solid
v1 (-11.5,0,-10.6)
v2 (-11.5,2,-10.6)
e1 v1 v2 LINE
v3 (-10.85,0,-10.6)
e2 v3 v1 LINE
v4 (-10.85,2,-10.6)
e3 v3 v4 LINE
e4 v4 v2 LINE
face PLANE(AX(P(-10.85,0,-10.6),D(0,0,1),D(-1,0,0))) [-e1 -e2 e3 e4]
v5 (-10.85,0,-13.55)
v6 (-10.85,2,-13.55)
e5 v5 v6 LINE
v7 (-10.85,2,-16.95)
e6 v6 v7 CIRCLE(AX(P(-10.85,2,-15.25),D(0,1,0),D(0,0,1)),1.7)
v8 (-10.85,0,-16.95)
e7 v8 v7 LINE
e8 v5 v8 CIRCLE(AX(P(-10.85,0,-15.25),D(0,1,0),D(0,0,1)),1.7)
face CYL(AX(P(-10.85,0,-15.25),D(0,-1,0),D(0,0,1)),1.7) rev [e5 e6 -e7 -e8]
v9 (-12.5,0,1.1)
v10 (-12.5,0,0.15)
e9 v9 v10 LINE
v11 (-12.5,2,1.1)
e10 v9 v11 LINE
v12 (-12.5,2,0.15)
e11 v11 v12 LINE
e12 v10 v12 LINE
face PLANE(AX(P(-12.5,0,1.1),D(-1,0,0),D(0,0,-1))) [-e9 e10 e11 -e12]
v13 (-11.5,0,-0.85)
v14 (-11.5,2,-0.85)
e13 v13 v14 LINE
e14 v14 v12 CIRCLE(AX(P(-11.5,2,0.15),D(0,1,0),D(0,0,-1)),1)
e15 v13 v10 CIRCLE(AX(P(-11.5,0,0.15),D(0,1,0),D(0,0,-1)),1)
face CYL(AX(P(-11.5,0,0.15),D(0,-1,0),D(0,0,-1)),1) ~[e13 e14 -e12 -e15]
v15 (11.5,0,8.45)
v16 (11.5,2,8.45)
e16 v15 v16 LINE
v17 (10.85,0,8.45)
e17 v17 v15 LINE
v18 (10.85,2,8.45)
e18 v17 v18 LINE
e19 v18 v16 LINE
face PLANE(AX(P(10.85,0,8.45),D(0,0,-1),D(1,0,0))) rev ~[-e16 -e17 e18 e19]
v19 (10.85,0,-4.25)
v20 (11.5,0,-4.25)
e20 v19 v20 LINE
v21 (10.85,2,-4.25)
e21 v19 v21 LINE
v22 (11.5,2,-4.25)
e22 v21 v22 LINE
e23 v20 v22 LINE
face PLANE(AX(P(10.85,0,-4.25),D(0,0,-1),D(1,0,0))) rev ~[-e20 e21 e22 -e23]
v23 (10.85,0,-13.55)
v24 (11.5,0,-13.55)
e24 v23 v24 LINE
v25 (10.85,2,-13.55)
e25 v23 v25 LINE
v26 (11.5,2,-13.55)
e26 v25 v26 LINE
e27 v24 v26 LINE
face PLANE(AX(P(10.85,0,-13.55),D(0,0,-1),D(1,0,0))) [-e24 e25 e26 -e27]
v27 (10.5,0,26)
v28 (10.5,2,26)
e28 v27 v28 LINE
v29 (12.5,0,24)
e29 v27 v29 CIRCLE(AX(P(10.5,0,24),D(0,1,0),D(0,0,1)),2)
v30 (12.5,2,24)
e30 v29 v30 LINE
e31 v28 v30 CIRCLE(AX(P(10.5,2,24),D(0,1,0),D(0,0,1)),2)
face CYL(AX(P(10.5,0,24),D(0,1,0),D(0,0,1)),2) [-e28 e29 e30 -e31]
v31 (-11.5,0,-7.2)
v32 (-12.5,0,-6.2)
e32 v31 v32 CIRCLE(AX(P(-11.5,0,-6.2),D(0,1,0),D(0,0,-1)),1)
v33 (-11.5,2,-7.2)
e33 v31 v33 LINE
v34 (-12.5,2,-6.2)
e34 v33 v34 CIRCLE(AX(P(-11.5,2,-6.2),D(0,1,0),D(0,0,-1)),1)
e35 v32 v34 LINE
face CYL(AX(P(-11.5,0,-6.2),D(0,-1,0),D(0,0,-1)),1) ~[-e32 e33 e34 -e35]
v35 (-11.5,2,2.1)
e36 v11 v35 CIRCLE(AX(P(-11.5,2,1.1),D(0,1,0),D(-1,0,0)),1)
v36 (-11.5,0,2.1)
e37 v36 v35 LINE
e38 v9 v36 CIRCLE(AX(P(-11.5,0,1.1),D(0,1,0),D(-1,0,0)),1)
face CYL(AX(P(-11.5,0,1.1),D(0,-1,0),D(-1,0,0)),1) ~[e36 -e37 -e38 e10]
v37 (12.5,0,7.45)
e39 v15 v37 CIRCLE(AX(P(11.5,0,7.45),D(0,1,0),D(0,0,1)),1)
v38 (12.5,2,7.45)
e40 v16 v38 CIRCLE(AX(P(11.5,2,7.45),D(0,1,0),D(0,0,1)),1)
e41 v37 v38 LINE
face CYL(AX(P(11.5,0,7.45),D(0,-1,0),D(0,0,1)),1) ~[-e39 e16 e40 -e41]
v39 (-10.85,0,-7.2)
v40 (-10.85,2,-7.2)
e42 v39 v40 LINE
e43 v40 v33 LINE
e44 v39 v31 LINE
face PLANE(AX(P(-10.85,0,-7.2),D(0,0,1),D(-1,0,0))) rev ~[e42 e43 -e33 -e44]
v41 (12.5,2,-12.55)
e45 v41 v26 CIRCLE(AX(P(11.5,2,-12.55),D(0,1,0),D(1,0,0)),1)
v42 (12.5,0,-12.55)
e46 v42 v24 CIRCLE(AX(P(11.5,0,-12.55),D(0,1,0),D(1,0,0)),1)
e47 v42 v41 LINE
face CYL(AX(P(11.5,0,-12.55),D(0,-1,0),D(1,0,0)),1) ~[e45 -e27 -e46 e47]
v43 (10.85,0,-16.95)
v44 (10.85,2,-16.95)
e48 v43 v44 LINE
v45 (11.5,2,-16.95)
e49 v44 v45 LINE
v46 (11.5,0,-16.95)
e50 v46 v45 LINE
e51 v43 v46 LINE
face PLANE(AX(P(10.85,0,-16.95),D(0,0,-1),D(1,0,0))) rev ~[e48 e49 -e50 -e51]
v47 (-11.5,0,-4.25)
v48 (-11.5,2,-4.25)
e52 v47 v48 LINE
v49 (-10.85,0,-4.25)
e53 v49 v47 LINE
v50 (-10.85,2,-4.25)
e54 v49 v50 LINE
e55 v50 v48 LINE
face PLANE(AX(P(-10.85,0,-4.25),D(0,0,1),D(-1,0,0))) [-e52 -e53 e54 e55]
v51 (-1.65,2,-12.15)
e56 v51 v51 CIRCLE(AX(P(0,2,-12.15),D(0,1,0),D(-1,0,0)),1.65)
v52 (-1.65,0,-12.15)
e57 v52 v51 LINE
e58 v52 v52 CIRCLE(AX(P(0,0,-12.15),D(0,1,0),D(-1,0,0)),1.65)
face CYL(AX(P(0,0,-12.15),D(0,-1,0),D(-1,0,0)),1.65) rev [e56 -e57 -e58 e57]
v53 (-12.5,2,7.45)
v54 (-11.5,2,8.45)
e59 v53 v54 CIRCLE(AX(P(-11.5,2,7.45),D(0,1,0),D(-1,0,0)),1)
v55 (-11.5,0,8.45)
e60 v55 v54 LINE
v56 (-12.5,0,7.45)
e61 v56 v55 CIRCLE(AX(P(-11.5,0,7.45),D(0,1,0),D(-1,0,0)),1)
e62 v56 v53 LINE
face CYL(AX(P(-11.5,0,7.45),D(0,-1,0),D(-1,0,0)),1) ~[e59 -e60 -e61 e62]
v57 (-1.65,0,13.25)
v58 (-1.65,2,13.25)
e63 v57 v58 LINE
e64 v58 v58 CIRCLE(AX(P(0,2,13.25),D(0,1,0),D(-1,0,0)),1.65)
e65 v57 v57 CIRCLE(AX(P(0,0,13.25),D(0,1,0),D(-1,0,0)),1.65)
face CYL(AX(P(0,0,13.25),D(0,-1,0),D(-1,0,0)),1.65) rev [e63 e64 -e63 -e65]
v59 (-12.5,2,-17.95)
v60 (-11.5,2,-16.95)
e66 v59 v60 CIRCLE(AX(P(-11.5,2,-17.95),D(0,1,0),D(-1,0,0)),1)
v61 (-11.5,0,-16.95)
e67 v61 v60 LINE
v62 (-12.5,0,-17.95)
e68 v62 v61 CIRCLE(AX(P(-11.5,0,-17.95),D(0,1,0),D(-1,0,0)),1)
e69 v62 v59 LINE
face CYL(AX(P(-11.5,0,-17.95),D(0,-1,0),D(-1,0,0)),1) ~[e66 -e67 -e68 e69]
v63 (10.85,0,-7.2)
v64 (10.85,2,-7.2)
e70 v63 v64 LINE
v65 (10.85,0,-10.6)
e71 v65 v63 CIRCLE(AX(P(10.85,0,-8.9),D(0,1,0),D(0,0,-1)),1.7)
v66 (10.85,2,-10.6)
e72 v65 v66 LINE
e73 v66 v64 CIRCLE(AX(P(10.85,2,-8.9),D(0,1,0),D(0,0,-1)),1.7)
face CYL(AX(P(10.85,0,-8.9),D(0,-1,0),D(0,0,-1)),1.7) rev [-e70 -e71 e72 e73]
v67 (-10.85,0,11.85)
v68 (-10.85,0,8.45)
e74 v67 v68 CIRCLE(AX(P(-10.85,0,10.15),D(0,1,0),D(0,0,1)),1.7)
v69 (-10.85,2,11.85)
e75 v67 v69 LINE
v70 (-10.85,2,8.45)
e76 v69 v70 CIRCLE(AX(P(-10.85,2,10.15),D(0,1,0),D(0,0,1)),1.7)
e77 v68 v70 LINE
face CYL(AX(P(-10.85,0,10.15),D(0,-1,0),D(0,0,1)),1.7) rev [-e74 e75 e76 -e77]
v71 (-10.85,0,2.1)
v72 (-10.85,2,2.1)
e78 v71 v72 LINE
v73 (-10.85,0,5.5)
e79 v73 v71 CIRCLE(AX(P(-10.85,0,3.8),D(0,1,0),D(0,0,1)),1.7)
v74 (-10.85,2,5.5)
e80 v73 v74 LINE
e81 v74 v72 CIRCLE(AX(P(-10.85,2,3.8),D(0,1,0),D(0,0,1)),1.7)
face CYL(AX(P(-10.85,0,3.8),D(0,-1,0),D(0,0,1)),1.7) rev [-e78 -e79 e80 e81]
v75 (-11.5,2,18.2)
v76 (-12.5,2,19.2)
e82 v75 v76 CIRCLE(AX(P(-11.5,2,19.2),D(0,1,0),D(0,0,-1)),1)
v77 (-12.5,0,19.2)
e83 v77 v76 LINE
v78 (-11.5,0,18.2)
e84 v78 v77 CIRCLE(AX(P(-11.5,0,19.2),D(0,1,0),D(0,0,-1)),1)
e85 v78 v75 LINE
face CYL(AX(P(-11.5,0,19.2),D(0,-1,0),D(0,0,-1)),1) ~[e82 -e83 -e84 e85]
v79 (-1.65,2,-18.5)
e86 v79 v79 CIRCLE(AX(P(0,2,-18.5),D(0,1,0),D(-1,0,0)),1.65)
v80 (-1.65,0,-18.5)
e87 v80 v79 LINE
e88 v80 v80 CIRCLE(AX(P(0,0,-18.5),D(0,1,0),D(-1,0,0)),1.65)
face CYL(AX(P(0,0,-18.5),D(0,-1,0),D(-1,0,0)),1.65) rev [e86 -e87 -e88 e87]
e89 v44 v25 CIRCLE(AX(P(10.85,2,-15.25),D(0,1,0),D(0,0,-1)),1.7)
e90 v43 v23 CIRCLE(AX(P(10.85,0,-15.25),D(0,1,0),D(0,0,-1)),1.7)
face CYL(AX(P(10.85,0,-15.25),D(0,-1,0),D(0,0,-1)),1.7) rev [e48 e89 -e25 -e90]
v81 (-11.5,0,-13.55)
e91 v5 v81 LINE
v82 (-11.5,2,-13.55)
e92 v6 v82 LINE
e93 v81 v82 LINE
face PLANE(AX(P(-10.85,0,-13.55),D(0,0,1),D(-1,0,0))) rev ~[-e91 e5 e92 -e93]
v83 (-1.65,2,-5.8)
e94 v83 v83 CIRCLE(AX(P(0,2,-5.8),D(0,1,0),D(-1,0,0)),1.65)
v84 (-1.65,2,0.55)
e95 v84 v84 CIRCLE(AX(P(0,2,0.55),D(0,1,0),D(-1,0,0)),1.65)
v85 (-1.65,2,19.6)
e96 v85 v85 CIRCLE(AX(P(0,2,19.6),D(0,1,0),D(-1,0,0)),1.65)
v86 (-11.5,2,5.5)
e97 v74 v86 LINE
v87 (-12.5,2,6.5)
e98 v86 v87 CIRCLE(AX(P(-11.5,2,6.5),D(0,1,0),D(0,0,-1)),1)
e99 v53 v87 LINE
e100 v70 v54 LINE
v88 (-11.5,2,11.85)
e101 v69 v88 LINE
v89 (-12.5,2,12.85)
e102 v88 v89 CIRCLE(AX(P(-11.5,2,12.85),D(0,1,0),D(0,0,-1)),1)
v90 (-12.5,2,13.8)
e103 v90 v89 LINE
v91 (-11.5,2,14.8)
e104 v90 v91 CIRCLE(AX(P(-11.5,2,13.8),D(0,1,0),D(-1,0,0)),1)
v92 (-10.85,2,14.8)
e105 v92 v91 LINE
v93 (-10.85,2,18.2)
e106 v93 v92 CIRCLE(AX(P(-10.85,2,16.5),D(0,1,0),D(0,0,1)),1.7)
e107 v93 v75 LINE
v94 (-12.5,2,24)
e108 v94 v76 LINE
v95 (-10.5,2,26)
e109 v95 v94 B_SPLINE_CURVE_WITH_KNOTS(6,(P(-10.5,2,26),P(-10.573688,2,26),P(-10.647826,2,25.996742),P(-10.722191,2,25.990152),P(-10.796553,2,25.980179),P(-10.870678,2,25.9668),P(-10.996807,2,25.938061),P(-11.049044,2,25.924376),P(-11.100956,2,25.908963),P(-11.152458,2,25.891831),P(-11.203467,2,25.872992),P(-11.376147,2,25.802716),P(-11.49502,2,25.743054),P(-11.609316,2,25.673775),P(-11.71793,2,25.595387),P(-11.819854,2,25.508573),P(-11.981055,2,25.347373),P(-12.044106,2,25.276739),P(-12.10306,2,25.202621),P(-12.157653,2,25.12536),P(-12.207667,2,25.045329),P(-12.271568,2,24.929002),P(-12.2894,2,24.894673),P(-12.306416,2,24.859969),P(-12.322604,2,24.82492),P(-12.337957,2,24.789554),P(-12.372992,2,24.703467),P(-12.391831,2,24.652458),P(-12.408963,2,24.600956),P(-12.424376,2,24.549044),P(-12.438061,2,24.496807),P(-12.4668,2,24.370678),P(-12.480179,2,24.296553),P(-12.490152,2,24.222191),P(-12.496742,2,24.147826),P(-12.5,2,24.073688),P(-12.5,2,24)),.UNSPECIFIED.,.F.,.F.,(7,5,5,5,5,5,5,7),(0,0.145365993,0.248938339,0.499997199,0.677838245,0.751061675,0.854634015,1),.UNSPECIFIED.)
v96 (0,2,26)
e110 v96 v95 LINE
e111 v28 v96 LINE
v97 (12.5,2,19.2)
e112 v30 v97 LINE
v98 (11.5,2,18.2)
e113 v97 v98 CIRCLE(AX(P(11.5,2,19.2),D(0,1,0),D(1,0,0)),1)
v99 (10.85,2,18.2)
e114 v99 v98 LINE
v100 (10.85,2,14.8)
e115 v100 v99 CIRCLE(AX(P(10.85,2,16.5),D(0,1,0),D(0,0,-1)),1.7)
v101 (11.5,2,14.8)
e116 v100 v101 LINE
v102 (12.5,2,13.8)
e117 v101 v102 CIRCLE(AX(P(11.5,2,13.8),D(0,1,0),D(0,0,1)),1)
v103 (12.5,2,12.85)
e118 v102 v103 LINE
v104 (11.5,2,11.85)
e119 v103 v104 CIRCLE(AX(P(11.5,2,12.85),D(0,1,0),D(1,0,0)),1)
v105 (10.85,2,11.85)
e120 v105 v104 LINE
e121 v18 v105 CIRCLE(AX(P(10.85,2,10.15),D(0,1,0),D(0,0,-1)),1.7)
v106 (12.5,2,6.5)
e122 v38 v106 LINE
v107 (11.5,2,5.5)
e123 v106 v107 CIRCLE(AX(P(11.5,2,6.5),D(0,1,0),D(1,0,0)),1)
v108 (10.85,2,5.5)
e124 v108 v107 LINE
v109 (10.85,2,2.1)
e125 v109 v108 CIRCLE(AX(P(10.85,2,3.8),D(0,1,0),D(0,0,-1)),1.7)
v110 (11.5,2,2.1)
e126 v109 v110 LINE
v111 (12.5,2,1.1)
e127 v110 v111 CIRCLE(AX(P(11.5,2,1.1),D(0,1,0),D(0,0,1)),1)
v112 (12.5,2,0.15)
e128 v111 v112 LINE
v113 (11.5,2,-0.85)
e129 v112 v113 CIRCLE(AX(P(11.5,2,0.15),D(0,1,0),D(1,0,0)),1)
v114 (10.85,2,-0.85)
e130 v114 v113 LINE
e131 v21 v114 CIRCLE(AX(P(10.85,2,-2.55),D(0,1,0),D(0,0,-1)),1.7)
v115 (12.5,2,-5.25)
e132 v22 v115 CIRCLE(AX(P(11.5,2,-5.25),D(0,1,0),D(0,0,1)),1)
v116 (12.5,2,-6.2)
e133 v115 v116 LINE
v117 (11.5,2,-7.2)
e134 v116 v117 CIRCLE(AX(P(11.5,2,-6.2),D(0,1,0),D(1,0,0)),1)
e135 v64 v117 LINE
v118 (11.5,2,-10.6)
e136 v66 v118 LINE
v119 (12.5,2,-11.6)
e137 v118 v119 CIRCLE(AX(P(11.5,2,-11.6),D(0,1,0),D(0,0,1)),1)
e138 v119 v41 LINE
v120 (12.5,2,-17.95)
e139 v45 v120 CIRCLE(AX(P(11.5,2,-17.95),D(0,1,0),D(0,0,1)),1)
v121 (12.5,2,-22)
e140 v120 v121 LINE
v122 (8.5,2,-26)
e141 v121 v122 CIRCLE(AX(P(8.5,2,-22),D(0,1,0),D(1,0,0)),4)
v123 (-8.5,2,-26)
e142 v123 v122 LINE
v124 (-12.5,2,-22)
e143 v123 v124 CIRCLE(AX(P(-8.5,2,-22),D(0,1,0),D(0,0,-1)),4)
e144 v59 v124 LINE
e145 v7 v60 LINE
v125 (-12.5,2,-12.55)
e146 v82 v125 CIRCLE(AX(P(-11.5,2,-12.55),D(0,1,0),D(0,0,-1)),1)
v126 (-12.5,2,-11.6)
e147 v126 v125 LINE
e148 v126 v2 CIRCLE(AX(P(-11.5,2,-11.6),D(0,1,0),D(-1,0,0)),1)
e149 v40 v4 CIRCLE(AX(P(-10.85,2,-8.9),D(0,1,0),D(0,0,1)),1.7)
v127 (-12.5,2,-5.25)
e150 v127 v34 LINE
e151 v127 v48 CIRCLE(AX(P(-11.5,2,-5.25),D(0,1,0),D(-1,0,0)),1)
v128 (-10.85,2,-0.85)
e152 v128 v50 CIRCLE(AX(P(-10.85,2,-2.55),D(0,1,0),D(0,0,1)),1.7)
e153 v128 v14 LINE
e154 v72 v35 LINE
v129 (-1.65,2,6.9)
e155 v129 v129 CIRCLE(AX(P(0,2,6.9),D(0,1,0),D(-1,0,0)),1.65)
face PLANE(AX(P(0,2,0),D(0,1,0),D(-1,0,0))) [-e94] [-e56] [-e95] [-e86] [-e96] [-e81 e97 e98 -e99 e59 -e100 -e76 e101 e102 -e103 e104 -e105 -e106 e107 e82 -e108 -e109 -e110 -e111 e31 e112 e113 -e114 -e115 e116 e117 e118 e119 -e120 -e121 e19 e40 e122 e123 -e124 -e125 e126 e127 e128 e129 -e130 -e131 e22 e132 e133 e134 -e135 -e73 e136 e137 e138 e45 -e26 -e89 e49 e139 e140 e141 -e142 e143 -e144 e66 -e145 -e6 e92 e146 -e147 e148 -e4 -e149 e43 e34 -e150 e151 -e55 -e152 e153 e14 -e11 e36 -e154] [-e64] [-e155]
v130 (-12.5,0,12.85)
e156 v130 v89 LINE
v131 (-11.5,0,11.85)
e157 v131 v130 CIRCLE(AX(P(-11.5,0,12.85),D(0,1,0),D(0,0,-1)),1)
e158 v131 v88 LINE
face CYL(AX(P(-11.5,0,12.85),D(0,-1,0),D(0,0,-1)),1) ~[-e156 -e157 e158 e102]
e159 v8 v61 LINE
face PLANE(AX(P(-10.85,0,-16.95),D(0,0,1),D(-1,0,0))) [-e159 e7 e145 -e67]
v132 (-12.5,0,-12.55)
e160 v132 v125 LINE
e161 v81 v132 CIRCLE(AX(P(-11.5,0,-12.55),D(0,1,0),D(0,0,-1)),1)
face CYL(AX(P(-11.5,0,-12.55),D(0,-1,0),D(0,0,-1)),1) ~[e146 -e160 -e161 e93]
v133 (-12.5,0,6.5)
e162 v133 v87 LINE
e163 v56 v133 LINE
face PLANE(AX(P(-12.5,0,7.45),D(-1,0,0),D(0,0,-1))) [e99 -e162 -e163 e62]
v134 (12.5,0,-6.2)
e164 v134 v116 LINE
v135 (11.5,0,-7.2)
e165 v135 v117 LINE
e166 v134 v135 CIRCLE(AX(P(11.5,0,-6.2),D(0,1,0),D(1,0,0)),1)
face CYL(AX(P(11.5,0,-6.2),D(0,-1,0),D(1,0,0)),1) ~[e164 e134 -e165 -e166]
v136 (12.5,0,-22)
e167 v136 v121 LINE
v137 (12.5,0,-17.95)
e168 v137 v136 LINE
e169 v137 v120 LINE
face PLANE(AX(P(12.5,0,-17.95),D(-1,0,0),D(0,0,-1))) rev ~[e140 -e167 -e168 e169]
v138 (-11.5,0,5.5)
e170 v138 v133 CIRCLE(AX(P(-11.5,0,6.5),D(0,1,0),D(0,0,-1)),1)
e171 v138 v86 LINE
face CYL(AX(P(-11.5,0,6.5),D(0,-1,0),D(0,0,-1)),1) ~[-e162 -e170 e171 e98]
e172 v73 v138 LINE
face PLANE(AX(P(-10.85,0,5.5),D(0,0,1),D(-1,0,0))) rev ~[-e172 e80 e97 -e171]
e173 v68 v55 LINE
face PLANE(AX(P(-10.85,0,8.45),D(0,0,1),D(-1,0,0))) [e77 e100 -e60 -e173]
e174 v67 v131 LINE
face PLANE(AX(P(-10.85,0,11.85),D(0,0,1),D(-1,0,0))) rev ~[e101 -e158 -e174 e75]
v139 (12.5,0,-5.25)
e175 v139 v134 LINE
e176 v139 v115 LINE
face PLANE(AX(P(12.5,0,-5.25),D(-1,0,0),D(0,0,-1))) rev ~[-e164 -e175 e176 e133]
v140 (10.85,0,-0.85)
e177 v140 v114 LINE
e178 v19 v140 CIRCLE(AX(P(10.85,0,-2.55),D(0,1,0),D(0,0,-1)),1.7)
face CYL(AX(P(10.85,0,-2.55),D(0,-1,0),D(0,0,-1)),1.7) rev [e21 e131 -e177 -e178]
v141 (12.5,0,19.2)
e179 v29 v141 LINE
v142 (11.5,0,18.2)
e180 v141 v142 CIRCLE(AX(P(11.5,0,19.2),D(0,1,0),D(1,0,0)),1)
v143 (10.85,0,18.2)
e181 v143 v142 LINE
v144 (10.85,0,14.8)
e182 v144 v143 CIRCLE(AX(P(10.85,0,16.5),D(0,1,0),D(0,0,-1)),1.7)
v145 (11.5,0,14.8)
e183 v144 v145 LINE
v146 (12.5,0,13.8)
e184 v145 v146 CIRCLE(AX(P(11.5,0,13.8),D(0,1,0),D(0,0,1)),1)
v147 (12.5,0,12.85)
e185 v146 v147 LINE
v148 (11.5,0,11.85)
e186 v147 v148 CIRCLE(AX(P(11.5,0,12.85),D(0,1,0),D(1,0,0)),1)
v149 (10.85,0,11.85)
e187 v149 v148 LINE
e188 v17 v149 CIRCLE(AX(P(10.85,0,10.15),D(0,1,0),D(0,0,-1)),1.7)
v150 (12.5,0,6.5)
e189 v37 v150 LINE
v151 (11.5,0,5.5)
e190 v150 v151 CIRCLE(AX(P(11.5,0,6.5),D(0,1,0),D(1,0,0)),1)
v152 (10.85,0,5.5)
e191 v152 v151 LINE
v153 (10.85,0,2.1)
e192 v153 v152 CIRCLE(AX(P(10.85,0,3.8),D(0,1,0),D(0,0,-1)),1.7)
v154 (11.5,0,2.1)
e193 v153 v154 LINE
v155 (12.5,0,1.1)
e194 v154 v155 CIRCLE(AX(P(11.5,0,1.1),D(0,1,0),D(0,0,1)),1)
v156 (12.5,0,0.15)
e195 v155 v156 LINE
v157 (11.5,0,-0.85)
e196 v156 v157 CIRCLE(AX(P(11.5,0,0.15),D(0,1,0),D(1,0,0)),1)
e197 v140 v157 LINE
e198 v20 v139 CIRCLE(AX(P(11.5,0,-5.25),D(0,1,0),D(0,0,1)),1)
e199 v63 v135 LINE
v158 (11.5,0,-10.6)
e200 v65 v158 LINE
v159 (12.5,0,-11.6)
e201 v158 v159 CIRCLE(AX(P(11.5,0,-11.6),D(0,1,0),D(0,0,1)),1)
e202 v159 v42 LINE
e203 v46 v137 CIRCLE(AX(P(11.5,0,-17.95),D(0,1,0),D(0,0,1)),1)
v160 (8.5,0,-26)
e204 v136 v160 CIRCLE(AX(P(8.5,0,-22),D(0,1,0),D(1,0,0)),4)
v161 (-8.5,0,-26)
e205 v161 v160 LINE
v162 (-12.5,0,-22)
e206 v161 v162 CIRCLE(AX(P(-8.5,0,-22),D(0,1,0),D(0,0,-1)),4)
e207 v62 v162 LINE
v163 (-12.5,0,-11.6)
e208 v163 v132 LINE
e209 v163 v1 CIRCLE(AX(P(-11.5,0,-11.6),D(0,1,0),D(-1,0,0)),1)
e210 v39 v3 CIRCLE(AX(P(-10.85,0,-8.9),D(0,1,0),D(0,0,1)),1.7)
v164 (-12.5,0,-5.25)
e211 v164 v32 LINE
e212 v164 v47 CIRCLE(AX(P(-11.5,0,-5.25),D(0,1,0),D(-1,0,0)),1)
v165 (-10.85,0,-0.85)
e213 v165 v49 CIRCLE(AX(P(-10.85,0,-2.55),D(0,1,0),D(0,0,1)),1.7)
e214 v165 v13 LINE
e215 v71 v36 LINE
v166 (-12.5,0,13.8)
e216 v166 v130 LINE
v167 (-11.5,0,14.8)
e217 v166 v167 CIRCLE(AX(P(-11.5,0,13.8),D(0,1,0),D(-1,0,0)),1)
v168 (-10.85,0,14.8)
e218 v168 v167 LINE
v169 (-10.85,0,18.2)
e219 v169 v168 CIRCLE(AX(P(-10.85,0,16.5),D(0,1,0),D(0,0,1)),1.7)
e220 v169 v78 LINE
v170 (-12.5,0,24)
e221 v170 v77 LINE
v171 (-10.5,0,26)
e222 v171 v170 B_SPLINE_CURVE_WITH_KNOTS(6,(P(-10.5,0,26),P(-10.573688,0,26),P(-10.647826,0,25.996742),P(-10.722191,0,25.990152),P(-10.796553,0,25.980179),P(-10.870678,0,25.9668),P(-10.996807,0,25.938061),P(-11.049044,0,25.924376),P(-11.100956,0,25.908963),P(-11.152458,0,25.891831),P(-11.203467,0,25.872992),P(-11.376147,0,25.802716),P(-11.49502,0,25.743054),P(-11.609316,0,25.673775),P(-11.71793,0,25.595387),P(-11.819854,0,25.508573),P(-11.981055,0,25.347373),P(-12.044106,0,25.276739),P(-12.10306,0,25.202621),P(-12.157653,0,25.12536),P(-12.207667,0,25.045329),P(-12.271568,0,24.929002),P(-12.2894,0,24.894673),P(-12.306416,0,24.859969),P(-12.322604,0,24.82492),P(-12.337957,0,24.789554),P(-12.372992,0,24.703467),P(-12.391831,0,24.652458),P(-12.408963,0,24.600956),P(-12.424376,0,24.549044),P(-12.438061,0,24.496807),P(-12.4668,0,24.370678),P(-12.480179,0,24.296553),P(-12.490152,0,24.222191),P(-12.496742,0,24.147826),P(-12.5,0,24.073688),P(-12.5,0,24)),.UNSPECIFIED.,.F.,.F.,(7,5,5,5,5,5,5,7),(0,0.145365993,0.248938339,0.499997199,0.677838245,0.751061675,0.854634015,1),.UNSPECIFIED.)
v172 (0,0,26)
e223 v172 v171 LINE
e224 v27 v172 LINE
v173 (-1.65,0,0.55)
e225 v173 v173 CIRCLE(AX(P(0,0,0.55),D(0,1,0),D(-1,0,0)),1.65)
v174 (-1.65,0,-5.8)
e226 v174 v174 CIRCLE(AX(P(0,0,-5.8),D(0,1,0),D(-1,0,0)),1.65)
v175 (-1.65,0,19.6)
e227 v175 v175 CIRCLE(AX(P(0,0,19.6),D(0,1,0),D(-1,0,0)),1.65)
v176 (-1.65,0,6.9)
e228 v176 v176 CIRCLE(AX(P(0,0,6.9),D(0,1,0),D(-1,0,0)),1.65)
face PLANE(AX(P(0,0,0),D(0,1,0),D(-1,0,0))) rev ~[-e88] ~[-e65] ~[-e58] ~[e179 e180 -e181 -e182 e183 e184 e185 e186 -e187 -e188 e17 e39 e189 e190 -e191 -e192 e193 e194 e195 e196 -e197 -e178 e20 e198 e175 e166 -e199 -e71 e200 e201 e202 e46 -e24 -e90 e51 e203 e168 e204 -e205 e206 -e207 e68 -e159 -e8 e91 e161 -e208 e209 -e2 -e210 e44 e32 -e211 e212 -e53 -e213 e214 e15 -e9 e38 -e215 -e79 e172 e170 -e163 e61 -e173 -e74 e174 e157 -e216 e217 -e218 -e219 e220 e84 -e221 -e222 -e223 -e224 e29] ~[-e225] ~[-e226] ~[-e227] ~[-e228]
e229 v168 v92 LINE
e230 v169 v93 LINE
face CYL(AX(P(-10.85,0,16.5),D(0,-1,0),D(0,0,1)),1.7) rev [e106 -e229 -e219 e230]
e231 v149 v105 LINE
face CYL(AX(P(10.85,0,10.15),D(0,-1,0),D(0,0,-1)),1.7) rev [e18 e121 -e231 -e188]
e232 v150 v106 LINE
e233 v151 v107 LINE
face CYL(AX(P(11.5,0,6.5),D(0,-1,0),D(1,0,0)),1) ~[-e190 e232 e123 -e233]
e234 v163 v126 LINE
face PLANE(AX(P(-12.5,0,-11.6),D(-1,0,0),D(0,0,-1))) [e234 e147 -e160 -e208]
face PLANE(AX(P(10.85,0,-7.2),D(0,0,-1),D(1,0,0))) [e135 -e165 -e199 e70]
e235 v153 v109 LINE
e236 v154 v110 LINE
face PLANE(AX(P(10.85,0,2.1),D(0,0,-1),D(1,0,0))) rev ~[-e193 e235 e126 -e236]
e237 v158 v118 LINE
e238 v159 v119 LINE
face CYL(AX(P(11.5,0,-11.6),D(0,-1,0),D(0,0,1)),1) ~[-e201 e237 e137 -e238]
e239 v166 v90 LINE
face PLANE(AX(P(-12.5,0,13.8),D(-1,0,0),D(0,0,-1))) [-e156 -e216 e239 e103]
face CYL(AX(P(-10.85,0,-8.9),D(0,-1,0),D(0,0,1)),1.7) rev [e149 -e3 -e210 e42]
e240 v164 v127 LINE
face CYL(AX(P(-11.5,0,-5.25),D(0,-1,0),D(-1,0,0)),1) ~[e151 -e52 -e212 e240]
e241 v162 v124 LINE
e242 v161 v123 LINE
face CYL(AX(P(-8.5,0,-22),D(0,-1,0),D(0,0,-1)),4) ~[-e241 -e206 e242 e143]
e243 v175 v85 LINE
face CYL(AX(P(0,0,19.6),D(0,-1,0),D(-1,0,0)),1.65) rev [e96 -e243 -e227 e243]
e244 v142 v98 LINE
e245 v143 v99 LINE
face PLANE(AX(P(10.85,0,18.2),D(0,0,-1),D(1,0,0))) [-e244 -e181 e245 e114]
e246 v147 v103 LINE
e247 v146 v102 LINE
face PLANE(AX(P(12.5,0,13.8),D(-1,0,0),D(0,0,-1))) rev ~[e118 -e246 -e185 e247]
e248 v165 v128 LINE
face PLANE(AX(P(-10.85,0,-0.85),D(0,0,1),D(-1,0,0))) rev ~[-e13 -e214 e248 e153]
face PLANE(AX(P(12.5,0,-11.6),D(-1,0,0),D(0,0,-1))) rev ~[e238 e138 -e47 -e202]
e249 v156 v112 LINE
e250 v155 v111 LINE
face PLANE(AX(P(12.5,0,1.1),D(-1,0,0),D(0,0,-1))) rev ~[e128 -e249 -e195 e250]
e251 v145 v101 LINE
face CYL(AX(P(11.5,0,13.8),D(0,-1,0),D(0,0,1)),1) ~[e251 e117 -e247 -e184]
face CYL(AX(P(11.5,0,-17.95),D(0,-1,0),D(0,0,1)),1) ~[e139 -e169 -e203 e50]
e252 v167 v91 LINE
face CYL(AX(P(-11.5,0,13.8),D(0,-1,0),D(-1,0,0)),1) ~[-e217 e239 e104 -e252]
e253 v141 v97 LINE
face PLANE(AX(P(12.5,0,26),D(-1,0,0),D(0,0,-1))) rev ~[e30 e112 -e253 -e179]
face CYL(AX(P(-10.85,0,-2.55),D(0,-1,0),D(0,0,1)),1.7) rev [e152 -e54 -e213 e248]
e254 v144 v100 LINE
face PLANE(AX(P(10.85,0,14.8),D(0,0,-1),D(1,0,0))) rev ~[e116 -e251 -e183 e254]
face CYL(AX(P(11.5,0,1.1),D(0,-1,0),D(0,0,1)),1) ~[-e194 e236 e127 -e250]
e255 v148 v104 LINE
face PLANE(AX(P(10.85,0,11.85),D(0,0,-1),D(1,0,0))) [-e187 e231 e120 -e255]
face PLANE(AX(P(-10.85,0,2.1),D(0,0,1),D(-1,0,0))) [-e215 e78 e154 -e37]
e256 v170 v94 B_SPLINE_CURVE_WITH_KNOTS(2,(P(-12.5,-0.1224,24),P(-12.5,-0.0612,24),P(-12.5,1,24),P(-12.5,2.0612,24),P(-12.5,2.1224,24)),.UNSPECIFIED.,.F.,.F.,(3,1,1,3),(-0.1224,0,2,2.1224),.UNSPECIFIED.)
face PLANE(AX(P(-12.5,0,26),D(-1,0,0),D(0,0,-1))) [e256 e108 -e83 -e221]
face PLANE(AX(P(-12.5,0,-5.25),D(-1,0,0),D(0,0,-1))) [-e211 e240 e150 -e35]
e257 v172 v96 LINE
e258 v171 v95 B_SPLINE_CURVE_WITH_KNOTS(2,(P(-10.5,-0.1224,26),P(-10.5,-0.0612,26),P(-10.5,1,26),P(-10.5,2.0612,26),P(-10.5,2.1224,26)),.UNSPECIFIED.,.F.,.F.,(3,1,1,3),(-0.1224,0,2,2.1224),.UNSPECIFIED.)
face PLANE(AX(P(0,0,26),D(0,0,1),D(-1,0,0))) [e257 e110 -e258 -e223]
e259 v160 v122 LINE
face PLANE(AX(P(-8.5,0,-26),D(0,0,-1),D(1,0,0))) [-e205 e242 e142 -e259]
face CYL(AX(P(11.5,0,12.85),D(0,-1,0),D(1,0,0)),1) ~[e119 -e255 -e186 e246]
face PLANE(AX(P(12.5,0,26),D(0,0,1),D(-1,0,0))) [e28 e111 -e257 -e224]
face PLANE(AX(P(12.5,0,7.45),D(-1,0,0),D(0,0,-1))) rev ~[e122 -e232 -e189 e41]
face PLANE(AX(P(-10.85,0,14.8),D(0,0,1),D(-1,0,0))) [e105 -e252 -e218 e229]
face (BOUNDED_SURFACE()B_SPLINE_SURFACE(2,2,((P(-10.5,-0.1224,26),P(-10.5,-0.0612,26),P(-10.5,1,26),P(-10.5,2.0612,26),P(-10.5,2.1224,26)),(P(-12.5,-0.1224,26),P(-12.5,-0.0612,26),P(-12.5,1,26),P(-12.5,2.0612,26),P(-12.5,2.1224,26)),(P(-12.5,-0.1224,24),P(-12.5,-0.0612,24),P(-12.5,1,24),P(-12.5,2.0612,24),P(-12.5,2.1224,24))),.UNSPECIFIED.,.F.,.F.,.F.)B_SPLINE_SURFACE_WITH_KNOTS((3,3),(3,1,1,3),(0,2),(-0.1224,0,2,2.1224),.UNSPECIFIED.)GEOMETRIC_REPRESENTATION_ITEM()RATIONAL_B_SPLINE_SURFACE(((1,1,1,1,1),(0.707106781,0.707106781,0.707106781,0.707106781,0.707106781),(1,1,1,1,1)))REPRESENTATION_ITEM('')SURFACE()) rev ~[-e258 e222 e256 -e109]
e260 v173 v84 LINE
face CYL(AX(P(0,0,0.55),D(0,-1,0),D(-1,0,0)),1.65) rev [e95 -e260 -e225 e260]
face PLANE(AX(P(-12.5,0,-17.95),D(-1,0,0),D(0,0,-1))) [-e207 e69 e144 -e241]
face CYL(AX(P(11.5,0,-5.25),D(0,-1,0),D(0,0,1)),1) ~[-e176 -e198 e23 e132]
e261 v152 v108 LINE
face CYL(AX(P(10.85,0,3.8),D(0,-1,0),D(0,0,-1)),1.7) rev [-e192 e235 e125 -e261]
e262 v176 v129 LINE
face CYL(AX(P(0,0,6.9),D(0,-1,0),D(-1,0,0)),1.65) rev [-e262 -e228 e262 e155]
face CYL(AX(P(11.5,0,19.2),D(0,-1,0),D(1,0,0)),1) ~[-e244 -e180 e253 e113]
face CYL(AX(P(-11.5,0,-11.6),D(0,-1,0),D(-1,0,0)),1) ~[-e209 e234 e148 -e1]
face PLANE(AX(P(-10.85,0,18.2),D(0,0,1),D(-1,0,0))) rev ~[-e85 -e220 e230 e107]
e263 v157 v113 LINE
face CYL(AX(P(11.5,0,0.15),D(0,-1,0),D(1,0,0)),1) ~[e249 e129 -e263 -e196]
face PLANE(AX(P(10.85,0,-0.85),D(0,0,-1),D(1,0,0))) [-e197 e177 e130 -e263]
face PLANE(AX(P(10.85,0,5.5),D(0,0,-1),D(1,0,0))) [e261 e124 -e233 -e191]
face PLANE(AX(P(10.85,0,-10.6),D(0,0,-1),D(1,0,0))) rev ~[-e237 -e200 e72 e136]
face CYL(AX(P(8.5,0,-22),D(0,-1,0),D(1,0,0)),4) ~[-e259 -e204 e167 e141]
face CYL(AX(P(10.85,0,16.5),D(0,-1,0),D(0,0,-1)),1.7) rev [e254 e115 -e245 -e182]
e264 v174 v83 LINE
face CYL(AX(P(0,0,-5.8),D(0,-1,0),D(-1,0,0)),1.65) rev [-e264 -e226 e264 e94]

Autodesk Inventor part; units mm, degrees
ref_plane "YZ Plane" through (0, 0, 0) normal (1, 0, 0) x (0, 1, 0)
ref_plane "XZ Plane" through (0, 0, 0) normal (0, 1, 0) x (-1, 0, 0)
ref_plane "XY Plane" through (0, 0, 0) normal (0, 0, 1) x (1, 0, 0)
sketch "Sketch1" plane through (0, 0, 0) normal (0, 1, 0) x (-1, 0, 0)
  line L0 (-12.5, 26) -> (12.5, 26)
  line L1 (12.5, 26) -> (12.5, 19.2)
  line L2 (8.5, -26) -> (-8.5, -26)
  circle A0 centre (0, 19.6) radius 1.65
  line L3 (0, 26) -> (10.85, 26)
  arc A1 (10.85, 18.2) -> (10.85, 14.8) centre (10.85, 16.5) ccw
  line L4 (10.85, 18.2) -> (11.5, 18.2)
  line L5 (10.85, 14.8) -> (11.5, 14.8)
  arc A2 (11.5, 18.2) -> (12.5, 19.2) centre (11.5, 19.2) ccw
  arc A3 (12.5, 13.8) -> (11.5, 14.8) centre (11.5, 13.8) ccw
  arc A4 (10.85, 11.85) -> (10.85, 8.45) centre (10.85, 10.15) ccw
  line L6 (10.85, 11.85) -> (11.5, 11.85)
  line L7 (10.85, 8.45) -> (11.5, 8.45)
  arc A5 (11.5, 11.85) -> (12.5, 12.85) centre (11.5, 12.85) ccw
  arc A6 (12.5, 7.45) -> (11.5, 8.45) centre (11.5, 7.45) ccw
  arc A7 (10.85, 5.5) -> (10.85, 2.1) centre (10.85, 3.8) ccw
  line L8 (10.85, 5.5) -> (11.5, 5.5)
  line L9 (10.85, 2.1) -> (11.5, 2.1)
  arc A8 (11.5, 5.5) -> (12.5, 6.5) centre (11.5, 6.5) ccw
  arc A9 (12.5, 1.1) -> (11.5, 2.1) centre (11.5, 1.1) ccw
  arc A10 (10.85, -0.85) -> (10.85, -4.25) centre (10.85, -2.55) ccw
  line L10 (10.85, -0.85) -> (11.5, -0.85)
  line L11 (10.85, -4.25) -> (11.5, -4.25)
  arc A11 (11.5, -0.85) -> (12.5, 0.15) centre (11.5, 0.15) ccw
  arc A12 (12.5, -5.25) -> (11.5, -4.25) centre (11.5, -5.25) ccw
  arc A13 (10.85, -7.2) -> (10.85, -10.6) centre (10.85, -8.9) ccw
  line L12 (10.85, -7.2) -> (11.5, -7.2)
  line L13 (10.85, -10.6) -> (11.5, -10.6)
  arc A14 (11.5, -7.2) -> (12.5, -6.2) centre (11.5, -6.2) ccw
  arc A15 (12.5, -11.6) -> (11.5, -10.6) centre (11.5, -11.6) ccw
  arc A16 (10.85, -13.55) -> (10.85, -16.95) centre (10.85, -15.25) ccw
  line L14 (10.85, -13.55) -> (11.5, -13.55)
  line L15 (10.85, -16.95) -> (11.5, -16.95)
  arc A17 (11.5, -13.55) -> (12.5, -12.55) centre (11.5, -12.55) ccw
  arc A18 (12.5, -17.95) -> (11.5, -16.95) centre (11.5, -17.95) ccw
  line L16 (12.5, 13.8) -> (12.5, 12.85)
  line L17 (12.5, 7.45) -> (12.5, 6.5)
  line L18 (12.5, 1.1) -> (12.5, 0.15)
  line L19 (12.5, -5.25) -> (12.5, -6.2)
  line L20 (12.5, -11.6) -> (12.5, -12.55)
  line L21 (12.5, -17.95) -> (12.5, -22)
  line L22 (-12.5, 26) -> (-12.5, 19.2)
  arc A19 (-10.85, 14.8) -> (-10.85, 18.2) centre (-10.85, 16.5) ccw
  line L23 (-10.85, 18.2) -> (-11.5, 18.2)
  line L24 (-10.85, 14.8) -> (-11.5, 14.8)
  arc A20 (-12.5, 19.2) -> (-11.5, 18.2) centre (-11.5, 19.2) ccw
  arc A21 (-11.5, 14.8) -> (-12.5, 13.8) centre (-11.5, 13.8) ccw
  arc A22 (-11.5, 8.45) -> (-12.5, 7.45) centre (-11.5, 7.45) ccw
  line L25 (-10.85, 8.45) -> (-11.5, 8.45)
  line L26 (-10.85, 11.85) -> (-11.5, 11.85)
  arc A23 (-12.5, 12.85) -> (-11.5, 11.85) centre (-11.5, 12.85) ccw
  arc A24 (-10.85, 8.45) -> (-10.85, 11.85) centre (-10.85, 10.15) ccw
  arc A25 (-11.5, 2.1) -> (-12.5, 1.1) centre (-11.5, 1.1) ccw
  line L27 (-10.85, 2.1) -> (-11.5, 2.1)
  line L28 (-10.85, 5.5) -> (-11.5, 5.5)
  arc A26 (-12.5, 6.5) -> (-11.5, 5.5) centre (-11.5, 6.5) ccw
  arc A27 (-10.85, 2.1) -> (-10.85, 5.5) centre (-10.85, 3.8) ccw
  arc A28 (-11.5, -4.25) -> (-12.5, -5.25) centre (-11.5, -5.25) ccw
  line L29 (-10.85, -4.25) -> (-11.5, -4.25)
  line L30 (-10.85, -0.85) -> (-11.5, -0.85)
  arc A29 (-12.5, 0.15) -> (-11.5, -0.85) centre (-11.5, 0.15) ccw
  arc A30 (-10.85, -4.25) -> (-10.85, -0.85) centre (-10.85, -2.55) ccw
  arc A31 (-11.5, -10.6) -> (-12.5, -11.6) centre (-11.5, -11.6) ccw
  line L31 (-10.85, -10.6) -> (-11.5, -10.6)
  line L32 (-10.85, -7.2) -> (-11.5, -7.2)
  arc A32 (-12.5, -6.2) -> (-11.5, -7.2) centre (-11.5, -6.2) ccw
  arc A33 (-10.85, -10.6) -> (-10.85, -7.2) centre (-10.85, -8.9) ccw
  arc A34 (-11.5, -16.95) -> (-12.5, -17.95) centre (-11.5, -17.95) ccw
  line L33 (-10.85, -16.95) -> (-11.5, -16.95)
  line L34 (-10.85, -13.55) -> (-11.5, -13.55)
  arc A35 (-12.5, -12.55) -> (-11.5, -13.55) centre (-11.5, -12.55) ccw
  arc A36 (-10.85, -16.95) -> (-10.85, -13.55) centre (-10.85, -15.25) ccw
  line L35 (-12.5, 13.8) -> (-12.5, 12.85)
  line L36 (-12.5, 7.45) -> (-12.5, 6.5)
  line L37 (-12.5, 1.1) -> (-12.5, 0.15)
  line L38 (-12.5, -5.25) -> (-12.5, -6.2)
  line L39 (-12.5, -11.6) -> (-12.5, -12.55)
  line L40 (-12.5, -17.95) -> (-12.5, -22)
  arc A37 (8.5, -26) -> (12.5, -22) centre (8.5, -22) ccw
  arc A38 (-12.5, -22) -> (-8.5, -26) centre (-8.5, -22) ccw
  circle A39 centre (0, 13.25) radius 1.65
  circle A40 centre (0, 6.9) radius 1.65
  circle A41 centre (0, 0.55) radius 1.65
  circle A42 centre (0, -5.8) radius 1.65
  circle A43 centre (0, -12.15) radius 1.65
  circle A44 centre (0, -18.5) radius 1.65
  point P0 (-12.5, -26)
  point P1 (12.5, -26)
  point P2 (12.5, 14.8)
  point P3 (12.5, 8.45)
  point P4 (12.5, 2.1)
  point P5 (12.5, -4.25)
  point P6 (12.5, -10.6)
  point P7 (12.5, -16.95)
  point P8 (-12.5, 14.8)
  point P9 (-12.5, 8.45)
  point P10 (-12.5, 2.1)
  point P11 (-12.5, -4.25)
  point P12 (-12.5, -10.6)
  point P13 (-12.5, -16.95)
  dimension "d0" = 52
  dimension "d1" = 25
  dimension "d3" = 3.3
  dimension "d16" = 10.85
  dimension "d18" = 1.7
  dimension "d19" = 1
  dimension "d20" = 1
  dimension "d22" = 1.7
  dimension "d23" = 1
  dimension "d24" = 1
  dimension "d26" = 1.7
  dimension "d27" = 1
  dimension "d28" = 1
  dimension "d30" = 1.7
  dimension "d31" = 1
  dimension "d32" = 1
  dimension "d34" = 1.7
  dimension "d35" = 1
  dimension "d36" = 1
  dimension "d38" = 1.7
  dimension "d39" = 1
  dimension "d40" = 1
  dimension "d42" = 4
  dimension "d44" = 3.3
  dimension "d46" = 3.3
  dimension "d48" = 3.3
  dimension "d50" = 3.3
  dimension "d52" = 3.3
  dimension "d54" = 3.3
extrude "Extrusion1" add sketch "Sketch1" along normal blind 2
fillet "Fillet2" radius 2 2 edges at (12.5, 1, 26) (-12.5, 1, 26)
properties part number "Motor Mount Bracket" material "Acrylic"
